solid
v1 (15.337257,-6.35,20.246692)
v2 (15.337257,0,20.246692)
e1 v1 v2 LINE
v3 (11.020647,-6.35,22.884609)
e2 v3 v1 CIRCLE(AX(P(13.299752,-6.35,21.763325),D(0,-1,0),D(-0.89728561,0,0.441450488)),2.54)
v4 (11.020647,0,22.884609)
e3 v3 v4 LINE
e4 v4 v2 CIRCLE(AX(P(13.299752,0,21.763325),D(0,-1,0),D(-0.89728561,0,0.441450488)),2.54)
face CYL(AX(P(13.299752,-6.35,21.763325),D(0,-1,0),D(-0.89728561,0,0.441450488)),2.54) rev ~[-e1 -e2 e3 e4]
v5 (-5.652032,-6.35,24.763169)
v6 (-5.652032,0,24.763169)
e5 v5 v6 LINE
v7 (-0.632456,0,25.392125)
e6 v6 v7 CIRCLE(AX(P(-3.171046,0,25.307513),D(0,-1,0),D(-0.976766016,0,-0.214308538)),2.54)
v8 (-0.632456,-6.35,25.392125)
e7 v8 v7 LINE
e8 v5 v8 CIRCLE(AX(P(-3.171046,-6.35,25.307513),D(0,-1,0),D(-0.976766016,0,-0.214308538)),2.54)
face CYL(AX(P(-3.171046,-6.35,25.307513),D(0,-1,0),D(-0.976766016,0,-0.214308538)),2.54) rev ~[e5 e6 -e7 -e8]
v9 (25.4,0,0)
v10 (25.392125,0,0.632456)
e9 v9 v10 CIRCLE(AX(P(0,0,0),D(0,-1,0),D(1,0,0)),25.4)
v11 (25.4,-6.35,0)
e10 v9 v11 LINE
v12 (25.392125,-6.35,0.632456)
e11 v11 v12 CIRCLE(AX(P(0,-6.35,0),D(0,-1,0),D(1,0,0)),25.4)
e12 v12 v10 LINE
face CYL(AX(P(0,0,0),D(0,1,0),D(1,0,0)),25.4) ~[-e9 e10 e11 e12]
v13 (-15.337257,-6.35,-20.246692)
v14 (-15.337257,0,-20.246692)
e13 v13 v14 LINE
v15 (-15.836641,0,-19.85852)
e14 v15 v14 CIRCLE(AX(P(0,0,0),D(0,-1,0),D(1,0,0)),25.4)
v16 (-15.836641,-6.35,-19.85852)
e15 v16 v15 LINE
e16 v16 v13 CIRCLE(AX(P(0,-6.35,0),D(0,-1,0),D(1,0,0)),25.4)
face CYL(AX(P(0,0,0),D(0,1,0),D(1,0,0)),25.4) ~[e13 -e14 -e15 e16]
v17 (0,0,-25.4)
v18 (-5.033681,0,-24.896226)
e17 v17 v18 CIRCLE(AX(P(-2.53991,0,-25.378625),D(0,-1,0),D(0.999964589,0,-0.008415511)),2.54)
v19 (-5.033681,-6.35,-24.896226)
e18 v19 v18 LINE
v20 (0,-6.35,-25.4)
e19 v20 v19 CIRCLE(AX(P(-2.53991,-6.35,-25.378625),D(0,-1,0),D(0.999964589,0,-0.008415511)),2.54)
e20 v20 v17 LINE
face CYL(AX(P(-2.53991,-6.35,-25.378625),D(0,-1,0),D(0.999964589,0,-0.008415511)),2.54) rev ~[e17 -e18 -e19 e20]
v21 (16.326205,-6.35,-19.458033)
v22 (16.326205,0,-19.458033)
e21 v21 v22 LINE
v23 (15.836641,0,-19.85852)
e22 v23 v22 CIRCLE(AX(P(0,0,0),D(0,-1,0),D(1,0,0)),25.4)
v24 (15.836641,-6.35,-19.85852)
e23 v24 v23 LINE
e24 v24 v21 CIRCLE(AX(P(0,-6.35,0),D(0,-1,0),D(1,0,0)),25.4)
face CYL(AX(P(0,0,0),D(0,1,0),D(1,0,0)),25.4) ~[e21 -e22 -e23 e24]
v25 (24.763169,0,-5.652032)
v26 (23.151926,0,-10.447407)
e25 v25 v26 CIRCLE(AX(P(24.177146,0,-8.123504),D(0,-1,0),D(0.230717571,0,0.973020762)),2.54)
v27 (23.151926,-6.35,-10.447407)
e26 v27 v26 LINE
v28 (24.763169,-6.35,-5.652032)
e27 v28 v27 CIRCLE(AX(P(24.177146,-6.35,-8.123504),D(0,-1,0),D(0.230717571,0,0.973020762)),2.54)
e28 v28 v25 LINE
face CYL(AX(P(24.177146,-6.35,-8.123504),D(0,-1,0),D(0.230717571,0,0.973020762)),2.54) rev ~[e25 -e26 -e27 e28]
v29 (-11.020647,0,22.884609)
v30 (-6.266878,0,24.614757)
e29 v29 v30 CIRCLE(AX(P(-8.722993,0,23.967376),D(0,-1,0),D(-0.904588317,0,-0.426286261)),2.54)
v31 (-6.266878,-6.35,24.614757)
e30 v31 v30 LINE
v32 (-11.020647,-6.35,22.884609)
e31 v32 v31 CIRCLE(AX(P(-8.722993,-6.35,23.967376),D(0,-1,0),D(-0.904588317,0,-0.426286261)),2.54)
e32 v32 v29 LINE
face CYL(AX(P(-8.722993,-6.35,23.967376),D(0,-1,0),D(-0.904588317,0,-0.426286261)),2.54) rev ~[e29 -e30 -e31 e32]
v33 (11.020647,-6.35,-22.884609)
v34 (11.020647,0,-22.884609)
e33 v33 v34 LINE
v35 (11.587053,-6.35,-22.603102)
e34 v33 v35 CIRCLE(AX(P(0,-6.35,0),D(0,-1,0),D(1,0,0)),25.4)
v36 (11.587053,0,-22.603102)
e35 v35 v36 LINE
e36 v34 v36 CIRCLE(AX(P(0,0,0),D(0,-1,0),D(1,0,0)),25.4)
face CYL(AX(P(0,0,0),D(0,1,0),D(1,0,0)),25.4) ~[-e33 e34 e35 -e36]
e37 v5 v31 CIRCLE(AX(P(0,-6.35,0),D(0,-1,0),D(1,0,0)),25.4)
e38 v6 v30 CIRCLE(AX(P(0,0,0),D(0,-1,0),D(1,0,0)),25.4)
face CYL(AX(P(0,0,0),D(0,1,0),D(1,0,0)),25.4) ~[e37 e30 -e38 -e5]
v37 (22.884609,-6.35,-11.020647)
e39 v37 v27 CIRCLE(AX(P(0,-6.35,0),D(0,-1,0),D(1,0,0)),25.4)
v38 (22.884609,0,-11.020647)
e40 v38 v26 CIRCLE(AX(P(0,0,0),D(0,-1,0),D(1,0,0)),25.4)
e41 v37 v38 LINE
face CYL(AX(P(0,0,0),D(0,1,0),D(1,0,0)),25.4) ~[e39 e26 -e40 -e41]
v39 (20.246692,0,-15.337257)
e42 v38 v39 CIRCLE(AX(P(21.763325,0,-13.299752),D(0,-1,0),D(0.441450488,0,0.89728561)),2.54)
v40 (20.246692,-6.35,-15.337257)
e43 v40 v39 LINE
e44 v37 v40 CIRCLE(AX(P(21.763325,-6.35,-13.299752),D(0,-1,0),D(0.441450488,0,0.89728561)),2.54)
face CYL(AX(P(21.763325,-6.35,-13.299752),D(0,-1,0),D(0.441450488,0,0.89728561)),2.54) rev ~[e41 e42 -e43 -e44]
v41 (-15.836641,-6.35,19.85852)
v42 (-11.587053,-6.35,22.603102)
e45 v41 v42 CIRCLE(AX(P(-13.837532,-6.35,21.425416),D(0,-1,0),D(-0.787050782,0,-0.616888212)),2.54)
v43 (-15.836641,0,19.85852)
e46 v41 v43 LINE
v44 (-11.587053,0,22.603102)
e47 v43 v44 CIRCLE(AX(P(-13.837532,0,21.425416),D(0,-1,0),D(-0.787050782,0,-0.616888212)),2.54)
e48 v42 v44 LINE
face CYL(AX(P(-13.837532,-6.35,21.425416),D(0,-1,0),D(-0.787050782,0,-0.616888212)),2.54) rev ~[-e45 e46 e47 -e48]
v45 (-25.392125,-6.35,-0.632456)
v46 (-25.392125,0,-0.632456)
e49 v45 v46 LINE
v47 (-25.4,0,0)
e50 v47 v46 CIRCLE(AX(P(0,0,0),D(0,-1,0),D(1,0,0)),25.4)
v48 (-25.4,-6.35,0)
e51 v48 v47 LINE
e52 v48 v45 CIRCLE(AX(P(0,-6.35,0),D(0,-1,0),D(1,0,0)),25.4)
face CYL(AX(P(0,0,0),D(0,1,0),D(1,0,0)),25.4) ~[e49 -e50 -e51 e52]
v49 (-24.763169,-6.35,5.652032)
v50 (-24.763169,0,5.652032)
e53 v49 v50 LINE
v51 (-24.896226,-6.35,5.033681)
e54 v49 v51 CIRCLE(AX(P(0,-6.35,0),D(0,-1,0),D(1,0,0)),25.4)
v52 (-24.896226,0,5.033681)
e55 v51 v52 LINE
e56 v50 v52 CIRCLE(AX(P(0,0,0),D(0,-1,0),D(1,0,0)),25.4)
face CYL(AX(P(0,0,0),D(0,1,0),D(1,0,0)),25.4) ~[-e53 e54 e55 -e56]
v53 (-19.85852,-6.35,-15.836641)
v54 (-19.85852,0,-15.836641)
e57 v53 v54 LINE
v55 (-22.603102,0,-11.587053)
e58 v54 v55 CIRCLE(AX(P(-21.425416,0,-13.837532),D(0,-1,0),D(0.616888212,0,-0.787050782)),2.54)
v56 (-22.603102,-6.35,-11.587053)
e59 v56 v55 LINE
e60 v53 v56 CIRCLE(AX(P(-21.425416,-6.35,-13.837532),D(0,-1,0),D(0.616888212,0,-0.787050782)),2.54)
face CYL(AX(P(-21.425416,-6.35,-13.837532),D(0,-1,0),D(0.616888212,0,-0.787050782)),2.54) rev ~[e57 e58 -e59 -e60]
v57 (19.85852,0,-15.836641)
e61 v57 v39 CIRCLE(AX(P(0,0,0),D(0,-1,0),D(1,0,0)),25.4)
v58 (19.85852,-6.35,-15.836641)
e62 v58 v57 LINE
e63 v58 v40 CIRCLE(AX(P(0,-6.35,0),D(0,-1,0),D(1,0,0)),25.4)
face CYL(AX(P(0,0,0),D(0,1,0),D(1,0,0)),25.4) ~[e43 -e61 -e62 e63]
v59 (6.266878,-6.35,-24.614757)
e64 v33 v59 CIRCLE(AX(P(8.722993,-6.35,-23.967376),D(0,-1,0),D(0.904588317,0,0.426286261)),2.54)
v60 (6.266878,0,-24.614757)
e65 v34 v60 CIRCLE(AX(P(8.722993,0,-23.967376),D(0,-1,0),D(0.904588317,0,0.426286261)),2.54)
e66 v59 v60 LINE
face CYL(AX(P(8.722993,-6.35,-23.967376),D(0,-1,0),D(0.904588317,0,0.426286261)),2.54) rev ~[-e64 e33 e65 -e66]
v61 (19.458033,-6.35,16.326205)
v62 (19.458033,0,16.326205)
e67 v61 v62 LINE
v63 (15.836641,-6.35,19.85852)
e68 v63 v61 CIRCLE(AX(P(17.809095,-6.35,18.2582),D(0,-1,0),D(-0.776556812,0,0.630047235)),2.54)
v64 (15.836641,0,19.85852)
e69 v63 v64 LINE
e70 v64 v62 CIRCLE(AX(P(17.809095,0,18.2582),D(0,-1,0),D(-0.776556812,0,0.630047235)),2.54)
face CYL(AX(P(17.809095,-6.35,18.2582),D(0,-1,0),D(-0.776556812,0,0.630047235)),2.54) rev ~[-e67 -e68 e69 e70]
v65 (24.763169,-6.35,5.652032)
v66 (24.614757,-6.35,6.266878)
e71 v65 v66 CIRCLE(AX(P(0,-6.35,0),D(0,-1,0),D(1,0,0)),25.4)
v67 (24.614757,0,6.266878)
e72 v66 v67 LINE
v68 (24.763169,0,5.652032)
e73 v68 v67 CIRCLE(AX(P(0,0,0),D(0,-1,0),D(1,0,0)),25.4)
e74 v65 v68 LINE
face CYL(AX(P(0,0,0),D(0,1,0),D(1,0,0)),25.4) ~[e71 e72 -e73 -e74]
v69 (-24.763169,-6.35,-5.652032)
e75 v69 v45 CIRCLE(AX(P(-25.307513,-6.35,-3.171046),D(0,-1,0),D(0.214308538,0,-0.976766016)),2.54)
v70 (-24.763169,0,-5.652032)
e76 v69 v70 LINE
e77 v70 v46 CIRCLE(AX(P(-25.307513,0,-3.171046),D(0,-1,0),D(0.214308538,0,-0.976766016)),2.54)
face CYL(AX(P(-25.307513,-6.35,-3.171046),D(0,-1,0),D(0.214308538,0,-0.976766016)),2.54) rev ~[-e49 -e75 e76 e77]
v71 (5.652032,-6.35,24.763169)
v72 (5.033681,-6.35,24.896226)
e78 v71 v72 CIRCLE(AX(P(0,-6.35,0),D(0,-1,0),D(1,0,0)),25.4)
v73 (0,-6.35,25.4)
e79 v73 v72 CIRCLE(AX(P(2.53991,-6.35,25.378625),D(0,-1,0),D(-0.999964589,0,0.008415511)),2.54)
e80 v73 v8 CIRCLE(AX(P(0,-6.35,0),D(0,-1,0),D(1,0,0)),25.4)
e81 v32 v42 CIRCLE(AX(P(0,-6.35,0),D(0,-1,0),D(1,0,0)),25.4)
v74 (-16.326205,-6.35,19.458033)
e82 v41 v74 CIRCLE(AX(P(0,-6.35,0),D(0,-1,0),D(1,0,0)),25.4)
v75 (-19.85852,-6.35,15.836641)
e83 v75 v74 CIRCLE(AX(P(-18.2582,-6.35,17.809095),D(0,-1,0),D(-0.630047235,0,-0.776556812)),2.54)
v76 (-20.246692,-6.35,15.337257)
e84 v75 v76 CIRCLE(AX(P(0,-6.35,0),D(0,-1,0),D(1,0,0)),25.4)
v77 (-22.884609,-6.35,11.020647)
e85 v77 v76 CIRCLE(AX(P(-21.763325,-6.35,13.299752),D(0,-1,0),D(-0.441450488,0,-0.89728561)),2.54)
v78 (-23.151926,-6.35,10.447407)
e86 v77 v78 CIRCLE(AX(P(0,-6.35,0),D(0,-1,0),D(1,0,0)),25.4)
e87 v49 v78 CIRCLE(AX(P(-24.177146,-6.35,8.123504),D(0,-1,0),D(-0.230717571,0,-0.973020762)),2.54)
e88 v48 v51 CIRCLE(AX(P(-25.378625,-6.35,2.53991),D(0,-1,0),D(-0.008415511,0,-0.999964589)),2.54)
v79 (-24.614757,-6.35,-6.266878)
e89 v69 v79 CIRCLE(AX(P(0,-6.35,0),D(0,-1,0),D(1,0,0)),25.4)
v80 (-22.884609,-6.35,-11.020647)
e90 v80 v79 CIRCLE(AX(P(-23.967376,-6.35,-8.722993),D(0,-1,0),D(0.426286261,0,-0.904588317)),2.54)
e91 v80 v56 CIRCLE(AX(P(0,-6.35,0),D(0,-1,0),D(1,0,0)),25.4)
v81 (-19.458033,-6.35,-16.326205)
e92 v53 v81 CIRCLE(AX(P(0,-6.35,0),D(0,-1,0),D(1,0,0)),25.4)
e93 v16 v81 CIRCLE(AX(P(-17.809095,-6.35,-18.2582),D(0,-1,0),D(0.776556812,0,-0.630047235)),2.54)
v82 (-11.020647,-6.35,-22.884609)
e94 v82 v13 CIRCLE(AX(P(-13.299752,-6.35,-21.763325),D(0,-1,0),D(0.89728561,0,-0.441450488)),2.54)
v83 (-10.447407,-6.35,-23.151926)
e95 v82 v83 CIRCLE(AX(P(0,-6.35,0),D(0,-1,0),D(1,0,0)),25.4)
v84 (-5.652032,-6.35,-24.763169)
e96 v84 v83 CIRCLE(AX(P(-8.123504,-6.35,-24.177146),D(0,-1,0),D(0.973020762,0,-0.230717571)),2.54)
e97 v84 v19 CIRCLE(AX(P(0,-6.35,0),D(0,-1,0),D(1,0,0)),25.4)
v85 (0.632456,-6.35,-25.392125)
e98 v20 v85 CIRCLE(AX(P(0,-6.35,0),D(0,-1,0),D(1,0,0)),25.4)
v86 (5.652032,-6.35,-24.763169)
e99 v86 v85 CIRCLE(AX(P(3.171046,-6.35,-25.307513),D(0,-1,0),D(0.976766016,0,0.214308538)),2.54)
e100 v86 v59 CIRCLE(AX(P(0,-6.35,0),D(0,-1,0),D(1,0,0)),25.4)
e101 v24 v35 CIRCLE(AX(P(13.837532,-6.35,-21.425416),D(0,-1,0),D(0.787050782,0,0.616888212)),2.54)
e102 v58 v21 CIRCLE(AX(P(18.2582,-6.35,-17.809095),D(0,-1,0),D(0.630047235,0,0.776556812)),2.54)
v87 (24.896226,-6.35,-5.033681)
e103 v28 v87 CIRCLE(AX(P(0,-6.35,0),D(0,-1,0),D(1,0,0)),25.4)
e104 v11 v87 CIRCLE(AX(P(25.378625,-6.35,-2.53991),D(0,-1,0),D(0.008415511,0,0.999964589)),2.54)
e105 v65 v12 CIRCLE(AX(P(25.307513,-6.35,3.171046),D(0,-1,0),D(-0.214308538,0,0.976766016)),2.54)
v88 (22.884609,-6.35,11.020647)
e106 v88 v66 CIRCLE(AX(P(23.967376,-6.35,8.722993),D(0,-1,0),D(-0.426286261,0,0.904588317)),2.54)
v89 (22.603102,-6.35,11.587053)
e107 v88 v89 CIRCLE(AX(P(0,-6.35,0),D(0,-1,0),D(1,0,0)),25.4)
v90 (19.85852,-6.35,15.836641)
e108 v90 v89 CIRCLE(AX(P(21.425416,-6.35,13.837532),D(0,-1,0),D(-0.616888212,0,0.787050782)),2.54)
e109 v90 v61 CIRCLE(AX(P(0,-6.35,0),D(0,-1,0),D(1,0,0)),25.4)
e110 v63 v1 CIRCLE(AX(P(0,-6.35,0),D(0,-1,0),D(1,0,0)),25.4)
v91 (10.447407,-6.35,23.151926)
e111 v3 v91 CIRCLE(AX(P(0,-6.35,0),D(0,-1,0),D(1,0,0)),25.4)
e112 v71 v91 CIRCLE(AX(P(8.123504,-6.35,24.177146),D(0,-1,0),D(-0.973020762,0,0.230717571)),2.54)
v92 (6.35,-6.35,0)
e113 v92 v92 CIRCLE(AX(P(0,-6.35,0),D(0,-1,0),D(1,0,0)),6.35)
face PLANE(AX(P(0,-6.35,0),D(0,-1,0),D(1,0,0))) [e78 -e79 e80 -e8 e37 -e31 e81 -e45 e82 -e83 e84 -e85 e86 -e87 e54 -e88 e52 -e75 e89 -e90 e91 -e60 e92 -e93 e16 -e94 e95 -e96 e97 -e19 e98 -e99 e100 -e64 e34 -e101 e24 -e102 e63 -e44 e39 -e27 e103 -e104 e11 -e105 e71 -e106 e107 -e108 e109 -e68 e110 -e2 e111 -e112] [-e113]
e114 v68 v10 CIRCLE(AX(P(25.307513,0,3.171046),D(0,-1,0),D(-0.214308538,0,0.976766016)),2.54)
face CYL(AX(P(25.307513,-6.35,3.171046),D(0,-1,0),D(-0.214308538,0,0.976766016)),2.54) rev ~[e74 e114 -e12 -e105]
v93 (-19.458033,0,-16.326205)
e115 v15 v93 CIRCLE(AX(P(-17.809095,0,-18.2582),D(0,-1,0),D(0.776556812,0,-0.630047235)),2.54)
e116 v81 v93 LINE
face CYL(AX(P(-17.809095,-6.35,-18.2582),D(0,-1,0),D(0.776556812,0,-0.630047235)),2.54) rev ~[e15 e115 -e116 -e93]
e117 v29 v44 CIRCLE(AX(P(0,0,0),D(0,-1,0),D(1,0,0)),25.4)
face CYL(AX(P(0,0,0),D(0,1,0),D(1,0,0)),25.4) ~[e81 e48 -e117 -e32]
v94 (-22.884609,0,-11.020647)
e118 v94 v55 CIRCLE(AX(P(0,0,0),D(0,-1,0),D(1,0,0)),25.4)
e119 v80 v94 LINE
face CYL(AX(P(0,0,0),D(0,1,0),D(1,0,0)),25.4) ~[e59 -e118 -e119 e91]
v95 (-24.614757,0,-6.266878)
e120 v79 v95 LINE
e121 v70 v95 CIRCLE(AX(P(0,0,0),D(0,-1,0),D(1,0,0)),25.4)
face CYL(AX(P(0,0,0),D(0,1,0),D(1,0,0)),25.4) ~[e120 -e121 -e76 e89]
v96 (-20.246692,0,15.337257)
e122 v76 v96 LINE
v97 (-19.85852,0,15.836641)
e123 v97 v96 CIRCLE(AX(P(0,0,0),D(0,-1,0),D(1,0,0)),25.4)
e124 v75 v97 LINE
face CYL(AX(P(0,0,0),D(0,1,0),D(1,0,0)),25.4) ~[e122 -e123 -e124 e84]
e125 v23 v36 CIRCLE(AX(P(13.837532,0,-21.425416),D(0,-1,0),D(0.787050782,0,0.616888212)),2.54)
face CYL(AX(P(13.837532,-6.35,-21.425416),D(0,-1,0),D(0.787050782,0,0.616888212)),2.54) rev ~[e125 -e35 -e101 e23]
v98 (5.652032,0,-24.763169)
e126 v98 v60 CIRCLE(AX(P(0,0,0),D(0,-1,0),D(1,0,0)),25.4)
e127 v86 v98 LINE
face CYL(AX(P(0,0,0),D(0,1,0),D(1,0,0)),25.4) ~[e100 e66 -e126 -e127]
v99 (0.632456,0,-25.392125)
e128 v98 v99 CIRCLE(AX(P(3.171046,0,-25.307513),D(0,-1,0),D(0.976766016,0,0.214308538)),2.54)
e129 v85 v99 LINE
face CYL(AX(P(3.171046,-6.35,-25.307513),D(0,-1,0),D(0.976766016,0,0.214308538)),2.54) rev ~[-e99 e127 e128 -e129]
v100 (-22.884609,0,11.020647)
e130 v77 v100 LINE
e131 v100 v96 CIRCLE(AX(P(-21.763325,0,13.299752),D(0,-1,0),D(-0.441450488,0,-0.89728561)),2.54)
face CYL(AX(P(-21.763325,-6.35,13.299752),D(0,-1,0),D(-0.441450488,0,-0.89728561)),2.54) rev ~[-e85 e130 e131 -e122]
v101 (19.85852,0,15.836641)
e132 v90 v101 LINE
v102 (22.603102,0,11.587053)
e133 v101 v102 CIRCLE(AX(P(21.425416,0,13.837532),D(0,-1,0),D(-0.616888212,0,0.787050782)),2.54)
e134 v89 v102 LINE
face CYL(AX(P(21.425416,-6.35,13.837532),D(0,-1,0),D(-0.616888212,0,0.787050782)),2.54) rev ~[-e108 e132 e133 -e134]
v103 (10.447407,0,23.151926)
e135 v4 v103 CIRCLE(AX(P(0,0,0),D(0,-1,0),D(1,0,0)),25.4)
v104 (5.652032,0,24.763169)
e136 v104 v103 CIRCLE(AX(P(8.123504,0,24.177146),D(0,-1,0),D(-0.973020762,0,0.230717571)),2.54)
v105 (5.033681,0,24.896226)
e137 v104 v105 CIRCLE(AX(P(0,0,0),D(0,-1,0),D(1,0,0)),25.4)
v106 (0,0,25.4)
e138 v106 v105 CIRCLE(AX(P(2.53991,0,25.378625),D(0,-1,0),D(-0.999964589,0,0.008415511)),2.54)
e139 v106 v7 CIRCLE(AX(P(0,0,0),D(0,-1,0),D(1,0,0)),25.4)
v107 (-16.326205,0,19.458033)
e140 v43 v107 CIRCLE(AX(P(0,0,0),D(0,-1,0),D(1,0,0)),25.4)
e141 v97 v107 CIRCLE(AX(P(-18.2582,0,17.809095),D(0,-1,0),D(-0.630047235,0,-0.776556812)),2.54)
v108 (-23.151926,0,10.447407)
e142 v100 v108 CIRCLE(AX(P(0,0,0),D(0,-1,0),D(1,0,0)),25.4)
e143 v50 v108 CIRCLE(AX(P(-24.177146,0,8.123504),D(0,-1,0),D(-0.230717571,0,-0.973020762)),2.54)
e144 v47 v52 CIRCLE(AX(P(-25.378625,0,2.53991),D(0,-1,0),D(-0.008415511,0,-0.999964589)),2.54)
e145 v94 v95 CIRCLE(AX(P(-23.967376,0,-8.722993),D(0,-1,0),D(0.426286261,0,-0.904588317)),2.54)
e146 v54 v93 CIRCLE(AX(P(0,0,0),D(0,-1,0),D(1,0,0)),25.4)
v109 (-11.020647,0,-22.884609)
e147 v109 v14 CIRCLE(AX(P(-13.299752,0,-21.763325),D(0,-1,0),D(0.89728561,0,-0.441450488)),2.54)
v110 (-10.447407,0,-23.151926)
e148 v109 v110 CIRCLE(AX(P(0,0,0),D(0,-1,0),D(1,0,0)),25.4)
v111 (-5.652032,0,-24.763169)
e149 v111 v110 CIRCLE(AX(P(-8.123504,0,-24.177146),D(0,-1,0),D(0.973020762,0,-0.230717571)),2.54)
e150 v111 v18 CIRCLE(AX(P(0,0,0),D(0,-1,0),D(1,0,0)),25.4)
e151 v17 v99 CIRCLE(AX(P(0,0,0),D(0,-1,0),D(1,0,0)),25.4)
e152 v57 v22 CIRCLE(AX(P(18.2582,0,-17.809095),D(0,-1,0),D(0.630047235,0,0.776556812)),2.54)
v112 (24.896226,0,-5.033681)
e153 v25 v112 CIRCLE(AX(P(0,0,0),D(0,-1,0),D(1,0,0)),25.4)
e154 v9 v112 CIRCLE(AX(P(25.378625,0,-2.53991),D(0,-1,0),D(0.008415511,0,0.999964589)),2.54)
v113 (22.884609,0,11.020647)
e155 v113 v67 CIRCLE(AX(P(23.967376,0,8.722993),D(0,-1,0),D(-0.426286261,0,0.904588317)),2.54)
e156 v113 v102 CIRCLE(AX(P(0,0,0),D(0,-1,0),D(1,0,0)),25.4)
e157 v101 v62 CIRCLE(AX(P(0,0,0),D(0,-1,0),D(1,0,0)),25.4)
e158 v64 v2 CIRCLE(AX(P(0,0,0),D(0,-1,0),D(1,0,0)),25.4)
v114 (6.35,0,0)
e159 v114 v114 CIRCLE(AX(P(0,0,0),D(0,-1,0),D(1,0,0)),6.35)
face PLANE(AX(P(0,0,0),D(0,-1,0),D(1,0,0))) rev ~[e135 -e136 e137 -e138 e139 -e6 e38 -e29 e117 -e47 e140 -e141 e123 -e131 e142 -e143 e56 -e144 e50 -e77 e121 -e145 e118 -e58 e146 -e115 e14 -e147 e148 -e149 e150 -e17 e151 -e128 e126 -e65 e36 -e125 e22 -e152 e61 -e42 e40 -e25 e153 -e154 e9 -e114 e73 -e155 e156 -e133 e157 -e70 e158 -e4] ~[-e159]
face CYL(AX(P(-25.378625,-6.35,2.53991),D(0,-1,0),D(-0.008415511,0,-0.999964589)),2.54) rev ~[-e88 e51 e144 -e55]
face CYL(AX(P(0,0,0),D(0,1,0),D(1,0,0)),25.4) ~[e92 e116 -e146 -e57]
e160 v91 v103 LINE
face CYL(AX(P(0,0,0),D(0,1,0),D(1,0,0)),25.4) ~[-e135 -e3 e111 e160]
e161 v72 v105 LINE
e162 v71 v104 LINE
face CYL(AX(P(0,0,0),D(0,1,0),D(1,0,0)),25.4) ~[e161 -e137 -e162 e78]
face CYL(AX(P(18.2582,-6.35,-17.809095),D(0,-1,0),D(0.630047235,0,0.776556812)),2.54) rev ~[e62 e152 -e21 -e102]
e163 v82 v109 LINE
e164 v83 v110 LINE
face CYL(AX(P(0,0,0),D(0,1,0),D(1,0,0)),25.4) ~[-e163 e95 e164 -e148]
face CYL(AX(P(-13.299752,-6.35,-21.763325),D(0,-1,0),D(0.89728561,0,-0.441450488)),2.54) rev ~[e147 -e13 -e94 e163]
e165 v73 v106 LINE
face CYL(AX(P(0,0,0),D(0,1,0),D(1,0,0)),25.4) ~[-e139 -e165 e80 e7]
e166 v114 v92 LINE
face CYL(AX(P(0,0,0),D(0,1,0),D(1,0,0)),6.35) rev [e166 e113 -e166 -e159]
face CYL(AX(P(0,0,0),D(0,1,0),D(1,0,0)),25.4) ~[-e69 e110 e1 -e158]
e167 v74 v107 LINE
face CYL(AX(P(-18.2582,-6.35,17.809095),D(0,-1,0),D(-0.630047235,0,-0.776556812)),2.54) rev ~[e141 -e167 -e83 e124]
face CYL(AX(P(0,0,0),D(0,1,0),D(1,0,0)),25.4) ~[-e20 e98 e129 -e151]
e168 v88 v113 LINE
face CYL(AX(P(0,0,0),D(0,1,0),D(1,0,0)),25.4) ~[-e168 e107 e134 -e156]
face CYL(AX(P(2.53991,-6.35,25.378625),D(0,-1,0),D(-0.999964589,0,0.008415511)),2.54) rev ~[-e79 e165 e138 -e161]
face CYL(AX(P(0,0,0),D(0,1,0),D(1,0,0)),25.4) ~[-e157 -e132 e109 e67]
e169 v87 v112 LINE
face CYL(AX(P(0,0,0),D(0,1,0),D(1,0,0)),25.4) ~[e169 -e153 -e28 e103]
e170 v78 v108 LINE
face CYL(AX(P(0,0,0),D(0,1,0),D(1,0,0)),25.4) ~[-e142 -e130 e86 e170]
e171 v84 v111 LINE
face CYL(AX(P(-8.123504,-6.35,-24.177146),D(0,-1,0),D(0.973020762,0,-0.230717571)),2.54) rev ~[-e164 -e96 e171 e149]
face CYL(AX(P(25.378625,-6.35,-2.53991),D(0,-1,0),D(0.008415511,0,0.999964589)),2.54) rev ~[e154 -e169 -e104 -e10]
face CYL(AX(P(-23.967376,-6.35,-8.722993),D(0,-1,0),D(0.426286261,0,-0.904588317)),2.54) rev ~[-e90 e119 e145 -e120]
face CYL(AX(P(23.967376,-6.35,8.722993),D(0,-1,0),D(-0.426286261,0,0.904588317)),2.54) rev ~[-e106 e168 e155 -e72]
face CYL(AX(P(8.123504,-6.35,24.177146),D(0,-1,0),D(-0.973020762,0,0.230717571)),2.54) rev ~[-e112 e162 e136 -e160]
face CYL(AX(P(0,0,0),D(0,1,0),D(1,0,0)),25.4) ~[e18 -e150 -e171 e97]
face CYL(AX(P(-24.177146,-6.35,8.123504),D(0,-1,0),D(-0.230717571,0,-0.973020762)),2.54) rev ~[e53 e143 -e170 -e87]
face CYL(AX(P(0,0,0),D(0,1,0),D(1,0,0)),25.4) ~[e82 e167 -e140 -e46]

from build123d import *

# Parameters (mm, degrees)
F0_R     = 25.4
F0_R_2   = 6.35
F1_DEPTH = 6.35
F3_DEPTH = 6.351


with BuildPart() as f1:
    # F0 (on Front) → F1 (new body)
    with BuildSketch(Plane.XZ):
        Circle(F0_R)
        Circle(F0_R_2, mode=Mode.SUBTRACT)
    extrude(amount=F1_DEPTH)

    # F2 (on face) → F3 (cut, through all)
    with BuildSketch(Plane.XZ.offset(6.35)):
        with BuildLine():
            ThreePointArc((-5.6520317225, 24.7631689694), (-2.8552519313, 22.7872201957), (-0.6324557251, 25.3921247586))
            ThreePointArc((-0.6324557251, 25.3921247586), (-3.157941096, 25.2029245929), (-5.6520317225, 24.7631689694))
        make_face()
        with BuildLine():
            ThreePointArc((5.0336805768, 24.8962258154), (2.5294133993, 25.2737426563), (0, 25.4))
            ThreePointArc((0, 25.4), (2.286968716, 22.8512503362), (5.0336805768, 24.8962258154))
        make_face()
        with BuildLine():
            ThreePointArc((24.8962258154, -5.0336805768), (25.2737426563, -2.5294133993), (25.4, 0))
            ThreePointArc((25.4, 0), (22.8512503362, -2.286968716), (24.8962258154, -5.0336805768))
        make_face()
        with BuildLine():
            ThreePointArc((23.1519261522, -10.4474071158), (24.0772297289, -8.0899325449), (24.7631689694, -5.6520317225))
            ThreePointArc((24.7631689694, -5.6520317225), (21.7694233664, -7.3145112024), (23.1519261522, -10.4474071158))
        make_face()
        with BuildLine():
            ThreePointArc((20.2466922377, -15.3372570374), (21.6733839652, -13.244788692), (22.8846092447, -11.0206469736))
            ThreePointArc((22.8846092447, -11.0206469736), (19.5959866078, -11.9752735544), (20.2466922377, -15.3372570374))
        make_face()
        with BuildLine():
            ThreePointArc((16.3262046316, -19.4580328483), (18.1827442293, -17.7354958288), (19.8585196547, -15.8366409672))
            ThreePointArc((19.8585196547, -15.8366409672), (16.439925255, -16.035545686), (16.3262046316, -19.4580328483))
        make_face()
        with BuildLine():
            ThreePointArc((11.587052953, -22.6031016426), (13.7803457732, -21.3368711476), (15.8366409672, -19.8585196547))
            ThreePointArc((15.8366409672, -19.8585196547), (12.4594974028, -19.2917285982), (11.587052953, -22.6031016426))
        make_face()
        with BuildLine():
            ThreePointArc((6.266878056, -24.6147565381), (8.6869432384, -23.8683266521), (11.0206469736, -22.8846092447))
            ThreePointArc((11.0206469736, -22.8846092447), (7.8542983244, -21.5805436833), (6.266878056, -24.6147565381))
        make_face()
        with BuildLine():
            ThreePointArc((0.6324557251, -25.3921247586), (3.157941096, -25.2029245929), (5.6520317225, -24.7631689694))
            ThreePointArc((5.6520317225, -24.7631689694), (2.8552519313, -22.7872201957), (0.6324557251, -25.3921247586))
        make_face()
        with BuildLine():
            ThreePointArc((0, -25.4), (-2.286968716, -22.8512503362), (-5.0336805768, -24.8962258154))
            ThreePointArc((-5.0336805768, -24.8962258154), (-2.5294133993, -25.2737426563), (0, -25.4))
        make_face()
        with BuildLine():
            ThreePointArc((-5.6520317225, -24.7631689694), (-7.3145112024, -21.7694233664), (-10.4474071158, -23.1519261522))
            ThreePointArc((-10.4474071158, -23.1519261522), (-8.0899325449, -24.0772297289), (-5.6520317225, -24.7631689694))
        make_face()
        with BuildLine():
            ThreePointArc((-11.0206469736, -22.8846092447), (-11.9752735544, -19.5959866078), (-15.3372570374, -20.2466922377))
            ThreePointArc((-15.3372570374, -20.2466922377), (-13.244788692, -21.6733839652), (-11.0206469736, -22.8846092447))
        make_face()
        with BuildLine():
            ThreePointArc((-15.8366409672, -19.8585196547), (-16.035545686, -16.439925255), (-19.4580328483, -16.3262046316))
            ThreePointArc((-19.4580328483, -16.3262046316), (-17.7354958288, -18.1827442293), (-15.8366409672, -19.8585196547))
        make_face()
        with BuildLine():
            ThreePointArc((-19.8585196547, -15.8366409672), (-19.2917285982, -12.4594974028), (-22.6031016426, -11.587052953))
            ThreePointArc((-22.6031016426, -11.587052953), (-21.3368711476, -13.7803457732), (-19.8585196547, -15.8366409672))
        make_face()
        with BuildLine():
            ThreePointArc((-22.8846092447, -11.0206469736), (-21.5805436833, -7.8542983244), (-24.6147565381, -6.266878056))
            ThreePointArc((-24.6147565381, -6.266878056), (-23.8683266521, -8.6869432384), (-22.8846092447, -11.0206469736))
        make_face()
        with BuildLine():
            ThreePointArc((-24.7631689694, -5.6520317225), (-22.7872201957, -2.8552519313), (-25.3921247586, -0.6324557251))
            ThreePointArc((-25.3921247586, -0.6324557251), (-25.2029245929, -3.157941096), (-24.7631689694, -5.6520317225))
        make_face()
        with BuildLine():
            ThreePointArc((-25.4, 0), (-22.8512503362, 2.286968716), (-24.8962258154, 5.0336805768))
            ThreePointArc((-24.8962258154, 5.0336805768), (-25.2737426563, 2.5294133993), (-25.4, 0))
        make_face()
        with BuildLine():
            ThreePointArc((-24.7631689694, 5.6520317225), (-21.7694233664, 7.3145112024), (-23.1519261522, 10.4474071158))
            ThreePointArc((-23.1519261522, 10.4474071158), (-24.0772297289, 8.0899325449), (-24.7631689694, 5.6520317225))
        make_face()
        with BuildLine():
            ThreePointArc((-22.8846092447, 11.0206469736), (-19.5959866078, 11.9752735544), (-20.2466922377, 15.3372570374))
            ThreePointArc((-20.2466922377, 15.3372570374), (-21.6733839652, 13.244788692), (-22.8846092447, 11.0206469736))
        make_face()
        with BuildLine():
            ThreePointArc((-19.8585196547, 15.8366409672), (-16.439925255, 16.035545686), (-16.3262046316, 19.4580328483))
            ThreePointArc((-16.3262046316, 19.4580328483), (-18.1827442293, 17.7354958288), (-19.8585196547, 15.8366409672))
        make_face()
        with BuildLine():
            ThreePointArc((-15.8366409672, 19.8585196547), (-12.4594974028, 19.2917285982), (-11.587052953, 22.6031016426))
            ThreePointArc((-11.587052953, 22.6031016426), (-13.7803457732, 21.3368711476), (-15.8366409672, 19.8585196547))
        make_face()
        with BuildLine():
            ThreePointArc((-11.0206469736, 22.8846092447), (-7.8542983244, 21.5805436833), (-6.266878056, 24.6147565381))
            ThreePointArc((-6.266878056, 24.6147565381), (-8.6869432384, 23.8683266521), (-11.0206469736, 22.8846092447))
        make_face()
        with BuildLine():
            ThreePointArc((10.4474071158, 23.1519261522), (8.0899325449, 24.0772297289), (5.6520317225, 24.7631689694))
            ThreePointArc((5.6520317225, 24.7631689694), (7.3145112024, 21.7694233664), (10.4474071158, 23.1519261522))
        make_face()
        with BuildLine():
            ThreePointArc((15.3372570374, 20.2466922377), (13.244788692, 21.6733839652), (11.0206469736, 22.8846092447))
            ThreePointArc((11.0206469736, 22.8846092447), (11.9752735544, 19.5959866078), (15.3372570374, 20.2466922377))
        make_face()
        with BuildLine():
            ThreePointArc((19.4580328483, 16.3262046316), (17.7354958288, 18.1827442293), (15.8366409672, 19.8585196547))
            ThreePointArc((15.8366409672, 19.8585196547), (16.035545686, 16.439925255), (19.4580328483, 16.3262046316))
        make_face()
        with BuildLine():
            ThreePointArc((22.6031016426, 11.587052953), (21.3368711476, 13.7803457732), (19.8585196547, 15.8366409672))
            ThreePointArc((19.8585196547, 15.8366409672), (19.2917285982, 12.4594974028), (22.6031016426, 11.587052953))
        make_face()
        with BuildLine():
            ThreePointArc((24.6147565381, 6.266878056), (23.8683266521, 8.6869432384), (22.8846092447, 11.0206469736))
            ThreePointArc((22.8846092447, 11.0206469736), (21.5805436833, 7.8542983244), (24.6147565381, 6.266878056))
        make_face()
        with BuildLine():
            ThreePointArc((25.3921247586, 0.6324557251), (25.2029245929, 3.157941096), (24.7631689694, 5.6520317225))
            ThreePointArc((24.7631689694, 5.6520317225), (22.7872201957, 2.8552519313), (25.3921247586, 0.6324557251))
        make_face()
    extrude(amount=-F3_DEPTH, mode=Mode.SUBTRACT)


solid = f1.part
